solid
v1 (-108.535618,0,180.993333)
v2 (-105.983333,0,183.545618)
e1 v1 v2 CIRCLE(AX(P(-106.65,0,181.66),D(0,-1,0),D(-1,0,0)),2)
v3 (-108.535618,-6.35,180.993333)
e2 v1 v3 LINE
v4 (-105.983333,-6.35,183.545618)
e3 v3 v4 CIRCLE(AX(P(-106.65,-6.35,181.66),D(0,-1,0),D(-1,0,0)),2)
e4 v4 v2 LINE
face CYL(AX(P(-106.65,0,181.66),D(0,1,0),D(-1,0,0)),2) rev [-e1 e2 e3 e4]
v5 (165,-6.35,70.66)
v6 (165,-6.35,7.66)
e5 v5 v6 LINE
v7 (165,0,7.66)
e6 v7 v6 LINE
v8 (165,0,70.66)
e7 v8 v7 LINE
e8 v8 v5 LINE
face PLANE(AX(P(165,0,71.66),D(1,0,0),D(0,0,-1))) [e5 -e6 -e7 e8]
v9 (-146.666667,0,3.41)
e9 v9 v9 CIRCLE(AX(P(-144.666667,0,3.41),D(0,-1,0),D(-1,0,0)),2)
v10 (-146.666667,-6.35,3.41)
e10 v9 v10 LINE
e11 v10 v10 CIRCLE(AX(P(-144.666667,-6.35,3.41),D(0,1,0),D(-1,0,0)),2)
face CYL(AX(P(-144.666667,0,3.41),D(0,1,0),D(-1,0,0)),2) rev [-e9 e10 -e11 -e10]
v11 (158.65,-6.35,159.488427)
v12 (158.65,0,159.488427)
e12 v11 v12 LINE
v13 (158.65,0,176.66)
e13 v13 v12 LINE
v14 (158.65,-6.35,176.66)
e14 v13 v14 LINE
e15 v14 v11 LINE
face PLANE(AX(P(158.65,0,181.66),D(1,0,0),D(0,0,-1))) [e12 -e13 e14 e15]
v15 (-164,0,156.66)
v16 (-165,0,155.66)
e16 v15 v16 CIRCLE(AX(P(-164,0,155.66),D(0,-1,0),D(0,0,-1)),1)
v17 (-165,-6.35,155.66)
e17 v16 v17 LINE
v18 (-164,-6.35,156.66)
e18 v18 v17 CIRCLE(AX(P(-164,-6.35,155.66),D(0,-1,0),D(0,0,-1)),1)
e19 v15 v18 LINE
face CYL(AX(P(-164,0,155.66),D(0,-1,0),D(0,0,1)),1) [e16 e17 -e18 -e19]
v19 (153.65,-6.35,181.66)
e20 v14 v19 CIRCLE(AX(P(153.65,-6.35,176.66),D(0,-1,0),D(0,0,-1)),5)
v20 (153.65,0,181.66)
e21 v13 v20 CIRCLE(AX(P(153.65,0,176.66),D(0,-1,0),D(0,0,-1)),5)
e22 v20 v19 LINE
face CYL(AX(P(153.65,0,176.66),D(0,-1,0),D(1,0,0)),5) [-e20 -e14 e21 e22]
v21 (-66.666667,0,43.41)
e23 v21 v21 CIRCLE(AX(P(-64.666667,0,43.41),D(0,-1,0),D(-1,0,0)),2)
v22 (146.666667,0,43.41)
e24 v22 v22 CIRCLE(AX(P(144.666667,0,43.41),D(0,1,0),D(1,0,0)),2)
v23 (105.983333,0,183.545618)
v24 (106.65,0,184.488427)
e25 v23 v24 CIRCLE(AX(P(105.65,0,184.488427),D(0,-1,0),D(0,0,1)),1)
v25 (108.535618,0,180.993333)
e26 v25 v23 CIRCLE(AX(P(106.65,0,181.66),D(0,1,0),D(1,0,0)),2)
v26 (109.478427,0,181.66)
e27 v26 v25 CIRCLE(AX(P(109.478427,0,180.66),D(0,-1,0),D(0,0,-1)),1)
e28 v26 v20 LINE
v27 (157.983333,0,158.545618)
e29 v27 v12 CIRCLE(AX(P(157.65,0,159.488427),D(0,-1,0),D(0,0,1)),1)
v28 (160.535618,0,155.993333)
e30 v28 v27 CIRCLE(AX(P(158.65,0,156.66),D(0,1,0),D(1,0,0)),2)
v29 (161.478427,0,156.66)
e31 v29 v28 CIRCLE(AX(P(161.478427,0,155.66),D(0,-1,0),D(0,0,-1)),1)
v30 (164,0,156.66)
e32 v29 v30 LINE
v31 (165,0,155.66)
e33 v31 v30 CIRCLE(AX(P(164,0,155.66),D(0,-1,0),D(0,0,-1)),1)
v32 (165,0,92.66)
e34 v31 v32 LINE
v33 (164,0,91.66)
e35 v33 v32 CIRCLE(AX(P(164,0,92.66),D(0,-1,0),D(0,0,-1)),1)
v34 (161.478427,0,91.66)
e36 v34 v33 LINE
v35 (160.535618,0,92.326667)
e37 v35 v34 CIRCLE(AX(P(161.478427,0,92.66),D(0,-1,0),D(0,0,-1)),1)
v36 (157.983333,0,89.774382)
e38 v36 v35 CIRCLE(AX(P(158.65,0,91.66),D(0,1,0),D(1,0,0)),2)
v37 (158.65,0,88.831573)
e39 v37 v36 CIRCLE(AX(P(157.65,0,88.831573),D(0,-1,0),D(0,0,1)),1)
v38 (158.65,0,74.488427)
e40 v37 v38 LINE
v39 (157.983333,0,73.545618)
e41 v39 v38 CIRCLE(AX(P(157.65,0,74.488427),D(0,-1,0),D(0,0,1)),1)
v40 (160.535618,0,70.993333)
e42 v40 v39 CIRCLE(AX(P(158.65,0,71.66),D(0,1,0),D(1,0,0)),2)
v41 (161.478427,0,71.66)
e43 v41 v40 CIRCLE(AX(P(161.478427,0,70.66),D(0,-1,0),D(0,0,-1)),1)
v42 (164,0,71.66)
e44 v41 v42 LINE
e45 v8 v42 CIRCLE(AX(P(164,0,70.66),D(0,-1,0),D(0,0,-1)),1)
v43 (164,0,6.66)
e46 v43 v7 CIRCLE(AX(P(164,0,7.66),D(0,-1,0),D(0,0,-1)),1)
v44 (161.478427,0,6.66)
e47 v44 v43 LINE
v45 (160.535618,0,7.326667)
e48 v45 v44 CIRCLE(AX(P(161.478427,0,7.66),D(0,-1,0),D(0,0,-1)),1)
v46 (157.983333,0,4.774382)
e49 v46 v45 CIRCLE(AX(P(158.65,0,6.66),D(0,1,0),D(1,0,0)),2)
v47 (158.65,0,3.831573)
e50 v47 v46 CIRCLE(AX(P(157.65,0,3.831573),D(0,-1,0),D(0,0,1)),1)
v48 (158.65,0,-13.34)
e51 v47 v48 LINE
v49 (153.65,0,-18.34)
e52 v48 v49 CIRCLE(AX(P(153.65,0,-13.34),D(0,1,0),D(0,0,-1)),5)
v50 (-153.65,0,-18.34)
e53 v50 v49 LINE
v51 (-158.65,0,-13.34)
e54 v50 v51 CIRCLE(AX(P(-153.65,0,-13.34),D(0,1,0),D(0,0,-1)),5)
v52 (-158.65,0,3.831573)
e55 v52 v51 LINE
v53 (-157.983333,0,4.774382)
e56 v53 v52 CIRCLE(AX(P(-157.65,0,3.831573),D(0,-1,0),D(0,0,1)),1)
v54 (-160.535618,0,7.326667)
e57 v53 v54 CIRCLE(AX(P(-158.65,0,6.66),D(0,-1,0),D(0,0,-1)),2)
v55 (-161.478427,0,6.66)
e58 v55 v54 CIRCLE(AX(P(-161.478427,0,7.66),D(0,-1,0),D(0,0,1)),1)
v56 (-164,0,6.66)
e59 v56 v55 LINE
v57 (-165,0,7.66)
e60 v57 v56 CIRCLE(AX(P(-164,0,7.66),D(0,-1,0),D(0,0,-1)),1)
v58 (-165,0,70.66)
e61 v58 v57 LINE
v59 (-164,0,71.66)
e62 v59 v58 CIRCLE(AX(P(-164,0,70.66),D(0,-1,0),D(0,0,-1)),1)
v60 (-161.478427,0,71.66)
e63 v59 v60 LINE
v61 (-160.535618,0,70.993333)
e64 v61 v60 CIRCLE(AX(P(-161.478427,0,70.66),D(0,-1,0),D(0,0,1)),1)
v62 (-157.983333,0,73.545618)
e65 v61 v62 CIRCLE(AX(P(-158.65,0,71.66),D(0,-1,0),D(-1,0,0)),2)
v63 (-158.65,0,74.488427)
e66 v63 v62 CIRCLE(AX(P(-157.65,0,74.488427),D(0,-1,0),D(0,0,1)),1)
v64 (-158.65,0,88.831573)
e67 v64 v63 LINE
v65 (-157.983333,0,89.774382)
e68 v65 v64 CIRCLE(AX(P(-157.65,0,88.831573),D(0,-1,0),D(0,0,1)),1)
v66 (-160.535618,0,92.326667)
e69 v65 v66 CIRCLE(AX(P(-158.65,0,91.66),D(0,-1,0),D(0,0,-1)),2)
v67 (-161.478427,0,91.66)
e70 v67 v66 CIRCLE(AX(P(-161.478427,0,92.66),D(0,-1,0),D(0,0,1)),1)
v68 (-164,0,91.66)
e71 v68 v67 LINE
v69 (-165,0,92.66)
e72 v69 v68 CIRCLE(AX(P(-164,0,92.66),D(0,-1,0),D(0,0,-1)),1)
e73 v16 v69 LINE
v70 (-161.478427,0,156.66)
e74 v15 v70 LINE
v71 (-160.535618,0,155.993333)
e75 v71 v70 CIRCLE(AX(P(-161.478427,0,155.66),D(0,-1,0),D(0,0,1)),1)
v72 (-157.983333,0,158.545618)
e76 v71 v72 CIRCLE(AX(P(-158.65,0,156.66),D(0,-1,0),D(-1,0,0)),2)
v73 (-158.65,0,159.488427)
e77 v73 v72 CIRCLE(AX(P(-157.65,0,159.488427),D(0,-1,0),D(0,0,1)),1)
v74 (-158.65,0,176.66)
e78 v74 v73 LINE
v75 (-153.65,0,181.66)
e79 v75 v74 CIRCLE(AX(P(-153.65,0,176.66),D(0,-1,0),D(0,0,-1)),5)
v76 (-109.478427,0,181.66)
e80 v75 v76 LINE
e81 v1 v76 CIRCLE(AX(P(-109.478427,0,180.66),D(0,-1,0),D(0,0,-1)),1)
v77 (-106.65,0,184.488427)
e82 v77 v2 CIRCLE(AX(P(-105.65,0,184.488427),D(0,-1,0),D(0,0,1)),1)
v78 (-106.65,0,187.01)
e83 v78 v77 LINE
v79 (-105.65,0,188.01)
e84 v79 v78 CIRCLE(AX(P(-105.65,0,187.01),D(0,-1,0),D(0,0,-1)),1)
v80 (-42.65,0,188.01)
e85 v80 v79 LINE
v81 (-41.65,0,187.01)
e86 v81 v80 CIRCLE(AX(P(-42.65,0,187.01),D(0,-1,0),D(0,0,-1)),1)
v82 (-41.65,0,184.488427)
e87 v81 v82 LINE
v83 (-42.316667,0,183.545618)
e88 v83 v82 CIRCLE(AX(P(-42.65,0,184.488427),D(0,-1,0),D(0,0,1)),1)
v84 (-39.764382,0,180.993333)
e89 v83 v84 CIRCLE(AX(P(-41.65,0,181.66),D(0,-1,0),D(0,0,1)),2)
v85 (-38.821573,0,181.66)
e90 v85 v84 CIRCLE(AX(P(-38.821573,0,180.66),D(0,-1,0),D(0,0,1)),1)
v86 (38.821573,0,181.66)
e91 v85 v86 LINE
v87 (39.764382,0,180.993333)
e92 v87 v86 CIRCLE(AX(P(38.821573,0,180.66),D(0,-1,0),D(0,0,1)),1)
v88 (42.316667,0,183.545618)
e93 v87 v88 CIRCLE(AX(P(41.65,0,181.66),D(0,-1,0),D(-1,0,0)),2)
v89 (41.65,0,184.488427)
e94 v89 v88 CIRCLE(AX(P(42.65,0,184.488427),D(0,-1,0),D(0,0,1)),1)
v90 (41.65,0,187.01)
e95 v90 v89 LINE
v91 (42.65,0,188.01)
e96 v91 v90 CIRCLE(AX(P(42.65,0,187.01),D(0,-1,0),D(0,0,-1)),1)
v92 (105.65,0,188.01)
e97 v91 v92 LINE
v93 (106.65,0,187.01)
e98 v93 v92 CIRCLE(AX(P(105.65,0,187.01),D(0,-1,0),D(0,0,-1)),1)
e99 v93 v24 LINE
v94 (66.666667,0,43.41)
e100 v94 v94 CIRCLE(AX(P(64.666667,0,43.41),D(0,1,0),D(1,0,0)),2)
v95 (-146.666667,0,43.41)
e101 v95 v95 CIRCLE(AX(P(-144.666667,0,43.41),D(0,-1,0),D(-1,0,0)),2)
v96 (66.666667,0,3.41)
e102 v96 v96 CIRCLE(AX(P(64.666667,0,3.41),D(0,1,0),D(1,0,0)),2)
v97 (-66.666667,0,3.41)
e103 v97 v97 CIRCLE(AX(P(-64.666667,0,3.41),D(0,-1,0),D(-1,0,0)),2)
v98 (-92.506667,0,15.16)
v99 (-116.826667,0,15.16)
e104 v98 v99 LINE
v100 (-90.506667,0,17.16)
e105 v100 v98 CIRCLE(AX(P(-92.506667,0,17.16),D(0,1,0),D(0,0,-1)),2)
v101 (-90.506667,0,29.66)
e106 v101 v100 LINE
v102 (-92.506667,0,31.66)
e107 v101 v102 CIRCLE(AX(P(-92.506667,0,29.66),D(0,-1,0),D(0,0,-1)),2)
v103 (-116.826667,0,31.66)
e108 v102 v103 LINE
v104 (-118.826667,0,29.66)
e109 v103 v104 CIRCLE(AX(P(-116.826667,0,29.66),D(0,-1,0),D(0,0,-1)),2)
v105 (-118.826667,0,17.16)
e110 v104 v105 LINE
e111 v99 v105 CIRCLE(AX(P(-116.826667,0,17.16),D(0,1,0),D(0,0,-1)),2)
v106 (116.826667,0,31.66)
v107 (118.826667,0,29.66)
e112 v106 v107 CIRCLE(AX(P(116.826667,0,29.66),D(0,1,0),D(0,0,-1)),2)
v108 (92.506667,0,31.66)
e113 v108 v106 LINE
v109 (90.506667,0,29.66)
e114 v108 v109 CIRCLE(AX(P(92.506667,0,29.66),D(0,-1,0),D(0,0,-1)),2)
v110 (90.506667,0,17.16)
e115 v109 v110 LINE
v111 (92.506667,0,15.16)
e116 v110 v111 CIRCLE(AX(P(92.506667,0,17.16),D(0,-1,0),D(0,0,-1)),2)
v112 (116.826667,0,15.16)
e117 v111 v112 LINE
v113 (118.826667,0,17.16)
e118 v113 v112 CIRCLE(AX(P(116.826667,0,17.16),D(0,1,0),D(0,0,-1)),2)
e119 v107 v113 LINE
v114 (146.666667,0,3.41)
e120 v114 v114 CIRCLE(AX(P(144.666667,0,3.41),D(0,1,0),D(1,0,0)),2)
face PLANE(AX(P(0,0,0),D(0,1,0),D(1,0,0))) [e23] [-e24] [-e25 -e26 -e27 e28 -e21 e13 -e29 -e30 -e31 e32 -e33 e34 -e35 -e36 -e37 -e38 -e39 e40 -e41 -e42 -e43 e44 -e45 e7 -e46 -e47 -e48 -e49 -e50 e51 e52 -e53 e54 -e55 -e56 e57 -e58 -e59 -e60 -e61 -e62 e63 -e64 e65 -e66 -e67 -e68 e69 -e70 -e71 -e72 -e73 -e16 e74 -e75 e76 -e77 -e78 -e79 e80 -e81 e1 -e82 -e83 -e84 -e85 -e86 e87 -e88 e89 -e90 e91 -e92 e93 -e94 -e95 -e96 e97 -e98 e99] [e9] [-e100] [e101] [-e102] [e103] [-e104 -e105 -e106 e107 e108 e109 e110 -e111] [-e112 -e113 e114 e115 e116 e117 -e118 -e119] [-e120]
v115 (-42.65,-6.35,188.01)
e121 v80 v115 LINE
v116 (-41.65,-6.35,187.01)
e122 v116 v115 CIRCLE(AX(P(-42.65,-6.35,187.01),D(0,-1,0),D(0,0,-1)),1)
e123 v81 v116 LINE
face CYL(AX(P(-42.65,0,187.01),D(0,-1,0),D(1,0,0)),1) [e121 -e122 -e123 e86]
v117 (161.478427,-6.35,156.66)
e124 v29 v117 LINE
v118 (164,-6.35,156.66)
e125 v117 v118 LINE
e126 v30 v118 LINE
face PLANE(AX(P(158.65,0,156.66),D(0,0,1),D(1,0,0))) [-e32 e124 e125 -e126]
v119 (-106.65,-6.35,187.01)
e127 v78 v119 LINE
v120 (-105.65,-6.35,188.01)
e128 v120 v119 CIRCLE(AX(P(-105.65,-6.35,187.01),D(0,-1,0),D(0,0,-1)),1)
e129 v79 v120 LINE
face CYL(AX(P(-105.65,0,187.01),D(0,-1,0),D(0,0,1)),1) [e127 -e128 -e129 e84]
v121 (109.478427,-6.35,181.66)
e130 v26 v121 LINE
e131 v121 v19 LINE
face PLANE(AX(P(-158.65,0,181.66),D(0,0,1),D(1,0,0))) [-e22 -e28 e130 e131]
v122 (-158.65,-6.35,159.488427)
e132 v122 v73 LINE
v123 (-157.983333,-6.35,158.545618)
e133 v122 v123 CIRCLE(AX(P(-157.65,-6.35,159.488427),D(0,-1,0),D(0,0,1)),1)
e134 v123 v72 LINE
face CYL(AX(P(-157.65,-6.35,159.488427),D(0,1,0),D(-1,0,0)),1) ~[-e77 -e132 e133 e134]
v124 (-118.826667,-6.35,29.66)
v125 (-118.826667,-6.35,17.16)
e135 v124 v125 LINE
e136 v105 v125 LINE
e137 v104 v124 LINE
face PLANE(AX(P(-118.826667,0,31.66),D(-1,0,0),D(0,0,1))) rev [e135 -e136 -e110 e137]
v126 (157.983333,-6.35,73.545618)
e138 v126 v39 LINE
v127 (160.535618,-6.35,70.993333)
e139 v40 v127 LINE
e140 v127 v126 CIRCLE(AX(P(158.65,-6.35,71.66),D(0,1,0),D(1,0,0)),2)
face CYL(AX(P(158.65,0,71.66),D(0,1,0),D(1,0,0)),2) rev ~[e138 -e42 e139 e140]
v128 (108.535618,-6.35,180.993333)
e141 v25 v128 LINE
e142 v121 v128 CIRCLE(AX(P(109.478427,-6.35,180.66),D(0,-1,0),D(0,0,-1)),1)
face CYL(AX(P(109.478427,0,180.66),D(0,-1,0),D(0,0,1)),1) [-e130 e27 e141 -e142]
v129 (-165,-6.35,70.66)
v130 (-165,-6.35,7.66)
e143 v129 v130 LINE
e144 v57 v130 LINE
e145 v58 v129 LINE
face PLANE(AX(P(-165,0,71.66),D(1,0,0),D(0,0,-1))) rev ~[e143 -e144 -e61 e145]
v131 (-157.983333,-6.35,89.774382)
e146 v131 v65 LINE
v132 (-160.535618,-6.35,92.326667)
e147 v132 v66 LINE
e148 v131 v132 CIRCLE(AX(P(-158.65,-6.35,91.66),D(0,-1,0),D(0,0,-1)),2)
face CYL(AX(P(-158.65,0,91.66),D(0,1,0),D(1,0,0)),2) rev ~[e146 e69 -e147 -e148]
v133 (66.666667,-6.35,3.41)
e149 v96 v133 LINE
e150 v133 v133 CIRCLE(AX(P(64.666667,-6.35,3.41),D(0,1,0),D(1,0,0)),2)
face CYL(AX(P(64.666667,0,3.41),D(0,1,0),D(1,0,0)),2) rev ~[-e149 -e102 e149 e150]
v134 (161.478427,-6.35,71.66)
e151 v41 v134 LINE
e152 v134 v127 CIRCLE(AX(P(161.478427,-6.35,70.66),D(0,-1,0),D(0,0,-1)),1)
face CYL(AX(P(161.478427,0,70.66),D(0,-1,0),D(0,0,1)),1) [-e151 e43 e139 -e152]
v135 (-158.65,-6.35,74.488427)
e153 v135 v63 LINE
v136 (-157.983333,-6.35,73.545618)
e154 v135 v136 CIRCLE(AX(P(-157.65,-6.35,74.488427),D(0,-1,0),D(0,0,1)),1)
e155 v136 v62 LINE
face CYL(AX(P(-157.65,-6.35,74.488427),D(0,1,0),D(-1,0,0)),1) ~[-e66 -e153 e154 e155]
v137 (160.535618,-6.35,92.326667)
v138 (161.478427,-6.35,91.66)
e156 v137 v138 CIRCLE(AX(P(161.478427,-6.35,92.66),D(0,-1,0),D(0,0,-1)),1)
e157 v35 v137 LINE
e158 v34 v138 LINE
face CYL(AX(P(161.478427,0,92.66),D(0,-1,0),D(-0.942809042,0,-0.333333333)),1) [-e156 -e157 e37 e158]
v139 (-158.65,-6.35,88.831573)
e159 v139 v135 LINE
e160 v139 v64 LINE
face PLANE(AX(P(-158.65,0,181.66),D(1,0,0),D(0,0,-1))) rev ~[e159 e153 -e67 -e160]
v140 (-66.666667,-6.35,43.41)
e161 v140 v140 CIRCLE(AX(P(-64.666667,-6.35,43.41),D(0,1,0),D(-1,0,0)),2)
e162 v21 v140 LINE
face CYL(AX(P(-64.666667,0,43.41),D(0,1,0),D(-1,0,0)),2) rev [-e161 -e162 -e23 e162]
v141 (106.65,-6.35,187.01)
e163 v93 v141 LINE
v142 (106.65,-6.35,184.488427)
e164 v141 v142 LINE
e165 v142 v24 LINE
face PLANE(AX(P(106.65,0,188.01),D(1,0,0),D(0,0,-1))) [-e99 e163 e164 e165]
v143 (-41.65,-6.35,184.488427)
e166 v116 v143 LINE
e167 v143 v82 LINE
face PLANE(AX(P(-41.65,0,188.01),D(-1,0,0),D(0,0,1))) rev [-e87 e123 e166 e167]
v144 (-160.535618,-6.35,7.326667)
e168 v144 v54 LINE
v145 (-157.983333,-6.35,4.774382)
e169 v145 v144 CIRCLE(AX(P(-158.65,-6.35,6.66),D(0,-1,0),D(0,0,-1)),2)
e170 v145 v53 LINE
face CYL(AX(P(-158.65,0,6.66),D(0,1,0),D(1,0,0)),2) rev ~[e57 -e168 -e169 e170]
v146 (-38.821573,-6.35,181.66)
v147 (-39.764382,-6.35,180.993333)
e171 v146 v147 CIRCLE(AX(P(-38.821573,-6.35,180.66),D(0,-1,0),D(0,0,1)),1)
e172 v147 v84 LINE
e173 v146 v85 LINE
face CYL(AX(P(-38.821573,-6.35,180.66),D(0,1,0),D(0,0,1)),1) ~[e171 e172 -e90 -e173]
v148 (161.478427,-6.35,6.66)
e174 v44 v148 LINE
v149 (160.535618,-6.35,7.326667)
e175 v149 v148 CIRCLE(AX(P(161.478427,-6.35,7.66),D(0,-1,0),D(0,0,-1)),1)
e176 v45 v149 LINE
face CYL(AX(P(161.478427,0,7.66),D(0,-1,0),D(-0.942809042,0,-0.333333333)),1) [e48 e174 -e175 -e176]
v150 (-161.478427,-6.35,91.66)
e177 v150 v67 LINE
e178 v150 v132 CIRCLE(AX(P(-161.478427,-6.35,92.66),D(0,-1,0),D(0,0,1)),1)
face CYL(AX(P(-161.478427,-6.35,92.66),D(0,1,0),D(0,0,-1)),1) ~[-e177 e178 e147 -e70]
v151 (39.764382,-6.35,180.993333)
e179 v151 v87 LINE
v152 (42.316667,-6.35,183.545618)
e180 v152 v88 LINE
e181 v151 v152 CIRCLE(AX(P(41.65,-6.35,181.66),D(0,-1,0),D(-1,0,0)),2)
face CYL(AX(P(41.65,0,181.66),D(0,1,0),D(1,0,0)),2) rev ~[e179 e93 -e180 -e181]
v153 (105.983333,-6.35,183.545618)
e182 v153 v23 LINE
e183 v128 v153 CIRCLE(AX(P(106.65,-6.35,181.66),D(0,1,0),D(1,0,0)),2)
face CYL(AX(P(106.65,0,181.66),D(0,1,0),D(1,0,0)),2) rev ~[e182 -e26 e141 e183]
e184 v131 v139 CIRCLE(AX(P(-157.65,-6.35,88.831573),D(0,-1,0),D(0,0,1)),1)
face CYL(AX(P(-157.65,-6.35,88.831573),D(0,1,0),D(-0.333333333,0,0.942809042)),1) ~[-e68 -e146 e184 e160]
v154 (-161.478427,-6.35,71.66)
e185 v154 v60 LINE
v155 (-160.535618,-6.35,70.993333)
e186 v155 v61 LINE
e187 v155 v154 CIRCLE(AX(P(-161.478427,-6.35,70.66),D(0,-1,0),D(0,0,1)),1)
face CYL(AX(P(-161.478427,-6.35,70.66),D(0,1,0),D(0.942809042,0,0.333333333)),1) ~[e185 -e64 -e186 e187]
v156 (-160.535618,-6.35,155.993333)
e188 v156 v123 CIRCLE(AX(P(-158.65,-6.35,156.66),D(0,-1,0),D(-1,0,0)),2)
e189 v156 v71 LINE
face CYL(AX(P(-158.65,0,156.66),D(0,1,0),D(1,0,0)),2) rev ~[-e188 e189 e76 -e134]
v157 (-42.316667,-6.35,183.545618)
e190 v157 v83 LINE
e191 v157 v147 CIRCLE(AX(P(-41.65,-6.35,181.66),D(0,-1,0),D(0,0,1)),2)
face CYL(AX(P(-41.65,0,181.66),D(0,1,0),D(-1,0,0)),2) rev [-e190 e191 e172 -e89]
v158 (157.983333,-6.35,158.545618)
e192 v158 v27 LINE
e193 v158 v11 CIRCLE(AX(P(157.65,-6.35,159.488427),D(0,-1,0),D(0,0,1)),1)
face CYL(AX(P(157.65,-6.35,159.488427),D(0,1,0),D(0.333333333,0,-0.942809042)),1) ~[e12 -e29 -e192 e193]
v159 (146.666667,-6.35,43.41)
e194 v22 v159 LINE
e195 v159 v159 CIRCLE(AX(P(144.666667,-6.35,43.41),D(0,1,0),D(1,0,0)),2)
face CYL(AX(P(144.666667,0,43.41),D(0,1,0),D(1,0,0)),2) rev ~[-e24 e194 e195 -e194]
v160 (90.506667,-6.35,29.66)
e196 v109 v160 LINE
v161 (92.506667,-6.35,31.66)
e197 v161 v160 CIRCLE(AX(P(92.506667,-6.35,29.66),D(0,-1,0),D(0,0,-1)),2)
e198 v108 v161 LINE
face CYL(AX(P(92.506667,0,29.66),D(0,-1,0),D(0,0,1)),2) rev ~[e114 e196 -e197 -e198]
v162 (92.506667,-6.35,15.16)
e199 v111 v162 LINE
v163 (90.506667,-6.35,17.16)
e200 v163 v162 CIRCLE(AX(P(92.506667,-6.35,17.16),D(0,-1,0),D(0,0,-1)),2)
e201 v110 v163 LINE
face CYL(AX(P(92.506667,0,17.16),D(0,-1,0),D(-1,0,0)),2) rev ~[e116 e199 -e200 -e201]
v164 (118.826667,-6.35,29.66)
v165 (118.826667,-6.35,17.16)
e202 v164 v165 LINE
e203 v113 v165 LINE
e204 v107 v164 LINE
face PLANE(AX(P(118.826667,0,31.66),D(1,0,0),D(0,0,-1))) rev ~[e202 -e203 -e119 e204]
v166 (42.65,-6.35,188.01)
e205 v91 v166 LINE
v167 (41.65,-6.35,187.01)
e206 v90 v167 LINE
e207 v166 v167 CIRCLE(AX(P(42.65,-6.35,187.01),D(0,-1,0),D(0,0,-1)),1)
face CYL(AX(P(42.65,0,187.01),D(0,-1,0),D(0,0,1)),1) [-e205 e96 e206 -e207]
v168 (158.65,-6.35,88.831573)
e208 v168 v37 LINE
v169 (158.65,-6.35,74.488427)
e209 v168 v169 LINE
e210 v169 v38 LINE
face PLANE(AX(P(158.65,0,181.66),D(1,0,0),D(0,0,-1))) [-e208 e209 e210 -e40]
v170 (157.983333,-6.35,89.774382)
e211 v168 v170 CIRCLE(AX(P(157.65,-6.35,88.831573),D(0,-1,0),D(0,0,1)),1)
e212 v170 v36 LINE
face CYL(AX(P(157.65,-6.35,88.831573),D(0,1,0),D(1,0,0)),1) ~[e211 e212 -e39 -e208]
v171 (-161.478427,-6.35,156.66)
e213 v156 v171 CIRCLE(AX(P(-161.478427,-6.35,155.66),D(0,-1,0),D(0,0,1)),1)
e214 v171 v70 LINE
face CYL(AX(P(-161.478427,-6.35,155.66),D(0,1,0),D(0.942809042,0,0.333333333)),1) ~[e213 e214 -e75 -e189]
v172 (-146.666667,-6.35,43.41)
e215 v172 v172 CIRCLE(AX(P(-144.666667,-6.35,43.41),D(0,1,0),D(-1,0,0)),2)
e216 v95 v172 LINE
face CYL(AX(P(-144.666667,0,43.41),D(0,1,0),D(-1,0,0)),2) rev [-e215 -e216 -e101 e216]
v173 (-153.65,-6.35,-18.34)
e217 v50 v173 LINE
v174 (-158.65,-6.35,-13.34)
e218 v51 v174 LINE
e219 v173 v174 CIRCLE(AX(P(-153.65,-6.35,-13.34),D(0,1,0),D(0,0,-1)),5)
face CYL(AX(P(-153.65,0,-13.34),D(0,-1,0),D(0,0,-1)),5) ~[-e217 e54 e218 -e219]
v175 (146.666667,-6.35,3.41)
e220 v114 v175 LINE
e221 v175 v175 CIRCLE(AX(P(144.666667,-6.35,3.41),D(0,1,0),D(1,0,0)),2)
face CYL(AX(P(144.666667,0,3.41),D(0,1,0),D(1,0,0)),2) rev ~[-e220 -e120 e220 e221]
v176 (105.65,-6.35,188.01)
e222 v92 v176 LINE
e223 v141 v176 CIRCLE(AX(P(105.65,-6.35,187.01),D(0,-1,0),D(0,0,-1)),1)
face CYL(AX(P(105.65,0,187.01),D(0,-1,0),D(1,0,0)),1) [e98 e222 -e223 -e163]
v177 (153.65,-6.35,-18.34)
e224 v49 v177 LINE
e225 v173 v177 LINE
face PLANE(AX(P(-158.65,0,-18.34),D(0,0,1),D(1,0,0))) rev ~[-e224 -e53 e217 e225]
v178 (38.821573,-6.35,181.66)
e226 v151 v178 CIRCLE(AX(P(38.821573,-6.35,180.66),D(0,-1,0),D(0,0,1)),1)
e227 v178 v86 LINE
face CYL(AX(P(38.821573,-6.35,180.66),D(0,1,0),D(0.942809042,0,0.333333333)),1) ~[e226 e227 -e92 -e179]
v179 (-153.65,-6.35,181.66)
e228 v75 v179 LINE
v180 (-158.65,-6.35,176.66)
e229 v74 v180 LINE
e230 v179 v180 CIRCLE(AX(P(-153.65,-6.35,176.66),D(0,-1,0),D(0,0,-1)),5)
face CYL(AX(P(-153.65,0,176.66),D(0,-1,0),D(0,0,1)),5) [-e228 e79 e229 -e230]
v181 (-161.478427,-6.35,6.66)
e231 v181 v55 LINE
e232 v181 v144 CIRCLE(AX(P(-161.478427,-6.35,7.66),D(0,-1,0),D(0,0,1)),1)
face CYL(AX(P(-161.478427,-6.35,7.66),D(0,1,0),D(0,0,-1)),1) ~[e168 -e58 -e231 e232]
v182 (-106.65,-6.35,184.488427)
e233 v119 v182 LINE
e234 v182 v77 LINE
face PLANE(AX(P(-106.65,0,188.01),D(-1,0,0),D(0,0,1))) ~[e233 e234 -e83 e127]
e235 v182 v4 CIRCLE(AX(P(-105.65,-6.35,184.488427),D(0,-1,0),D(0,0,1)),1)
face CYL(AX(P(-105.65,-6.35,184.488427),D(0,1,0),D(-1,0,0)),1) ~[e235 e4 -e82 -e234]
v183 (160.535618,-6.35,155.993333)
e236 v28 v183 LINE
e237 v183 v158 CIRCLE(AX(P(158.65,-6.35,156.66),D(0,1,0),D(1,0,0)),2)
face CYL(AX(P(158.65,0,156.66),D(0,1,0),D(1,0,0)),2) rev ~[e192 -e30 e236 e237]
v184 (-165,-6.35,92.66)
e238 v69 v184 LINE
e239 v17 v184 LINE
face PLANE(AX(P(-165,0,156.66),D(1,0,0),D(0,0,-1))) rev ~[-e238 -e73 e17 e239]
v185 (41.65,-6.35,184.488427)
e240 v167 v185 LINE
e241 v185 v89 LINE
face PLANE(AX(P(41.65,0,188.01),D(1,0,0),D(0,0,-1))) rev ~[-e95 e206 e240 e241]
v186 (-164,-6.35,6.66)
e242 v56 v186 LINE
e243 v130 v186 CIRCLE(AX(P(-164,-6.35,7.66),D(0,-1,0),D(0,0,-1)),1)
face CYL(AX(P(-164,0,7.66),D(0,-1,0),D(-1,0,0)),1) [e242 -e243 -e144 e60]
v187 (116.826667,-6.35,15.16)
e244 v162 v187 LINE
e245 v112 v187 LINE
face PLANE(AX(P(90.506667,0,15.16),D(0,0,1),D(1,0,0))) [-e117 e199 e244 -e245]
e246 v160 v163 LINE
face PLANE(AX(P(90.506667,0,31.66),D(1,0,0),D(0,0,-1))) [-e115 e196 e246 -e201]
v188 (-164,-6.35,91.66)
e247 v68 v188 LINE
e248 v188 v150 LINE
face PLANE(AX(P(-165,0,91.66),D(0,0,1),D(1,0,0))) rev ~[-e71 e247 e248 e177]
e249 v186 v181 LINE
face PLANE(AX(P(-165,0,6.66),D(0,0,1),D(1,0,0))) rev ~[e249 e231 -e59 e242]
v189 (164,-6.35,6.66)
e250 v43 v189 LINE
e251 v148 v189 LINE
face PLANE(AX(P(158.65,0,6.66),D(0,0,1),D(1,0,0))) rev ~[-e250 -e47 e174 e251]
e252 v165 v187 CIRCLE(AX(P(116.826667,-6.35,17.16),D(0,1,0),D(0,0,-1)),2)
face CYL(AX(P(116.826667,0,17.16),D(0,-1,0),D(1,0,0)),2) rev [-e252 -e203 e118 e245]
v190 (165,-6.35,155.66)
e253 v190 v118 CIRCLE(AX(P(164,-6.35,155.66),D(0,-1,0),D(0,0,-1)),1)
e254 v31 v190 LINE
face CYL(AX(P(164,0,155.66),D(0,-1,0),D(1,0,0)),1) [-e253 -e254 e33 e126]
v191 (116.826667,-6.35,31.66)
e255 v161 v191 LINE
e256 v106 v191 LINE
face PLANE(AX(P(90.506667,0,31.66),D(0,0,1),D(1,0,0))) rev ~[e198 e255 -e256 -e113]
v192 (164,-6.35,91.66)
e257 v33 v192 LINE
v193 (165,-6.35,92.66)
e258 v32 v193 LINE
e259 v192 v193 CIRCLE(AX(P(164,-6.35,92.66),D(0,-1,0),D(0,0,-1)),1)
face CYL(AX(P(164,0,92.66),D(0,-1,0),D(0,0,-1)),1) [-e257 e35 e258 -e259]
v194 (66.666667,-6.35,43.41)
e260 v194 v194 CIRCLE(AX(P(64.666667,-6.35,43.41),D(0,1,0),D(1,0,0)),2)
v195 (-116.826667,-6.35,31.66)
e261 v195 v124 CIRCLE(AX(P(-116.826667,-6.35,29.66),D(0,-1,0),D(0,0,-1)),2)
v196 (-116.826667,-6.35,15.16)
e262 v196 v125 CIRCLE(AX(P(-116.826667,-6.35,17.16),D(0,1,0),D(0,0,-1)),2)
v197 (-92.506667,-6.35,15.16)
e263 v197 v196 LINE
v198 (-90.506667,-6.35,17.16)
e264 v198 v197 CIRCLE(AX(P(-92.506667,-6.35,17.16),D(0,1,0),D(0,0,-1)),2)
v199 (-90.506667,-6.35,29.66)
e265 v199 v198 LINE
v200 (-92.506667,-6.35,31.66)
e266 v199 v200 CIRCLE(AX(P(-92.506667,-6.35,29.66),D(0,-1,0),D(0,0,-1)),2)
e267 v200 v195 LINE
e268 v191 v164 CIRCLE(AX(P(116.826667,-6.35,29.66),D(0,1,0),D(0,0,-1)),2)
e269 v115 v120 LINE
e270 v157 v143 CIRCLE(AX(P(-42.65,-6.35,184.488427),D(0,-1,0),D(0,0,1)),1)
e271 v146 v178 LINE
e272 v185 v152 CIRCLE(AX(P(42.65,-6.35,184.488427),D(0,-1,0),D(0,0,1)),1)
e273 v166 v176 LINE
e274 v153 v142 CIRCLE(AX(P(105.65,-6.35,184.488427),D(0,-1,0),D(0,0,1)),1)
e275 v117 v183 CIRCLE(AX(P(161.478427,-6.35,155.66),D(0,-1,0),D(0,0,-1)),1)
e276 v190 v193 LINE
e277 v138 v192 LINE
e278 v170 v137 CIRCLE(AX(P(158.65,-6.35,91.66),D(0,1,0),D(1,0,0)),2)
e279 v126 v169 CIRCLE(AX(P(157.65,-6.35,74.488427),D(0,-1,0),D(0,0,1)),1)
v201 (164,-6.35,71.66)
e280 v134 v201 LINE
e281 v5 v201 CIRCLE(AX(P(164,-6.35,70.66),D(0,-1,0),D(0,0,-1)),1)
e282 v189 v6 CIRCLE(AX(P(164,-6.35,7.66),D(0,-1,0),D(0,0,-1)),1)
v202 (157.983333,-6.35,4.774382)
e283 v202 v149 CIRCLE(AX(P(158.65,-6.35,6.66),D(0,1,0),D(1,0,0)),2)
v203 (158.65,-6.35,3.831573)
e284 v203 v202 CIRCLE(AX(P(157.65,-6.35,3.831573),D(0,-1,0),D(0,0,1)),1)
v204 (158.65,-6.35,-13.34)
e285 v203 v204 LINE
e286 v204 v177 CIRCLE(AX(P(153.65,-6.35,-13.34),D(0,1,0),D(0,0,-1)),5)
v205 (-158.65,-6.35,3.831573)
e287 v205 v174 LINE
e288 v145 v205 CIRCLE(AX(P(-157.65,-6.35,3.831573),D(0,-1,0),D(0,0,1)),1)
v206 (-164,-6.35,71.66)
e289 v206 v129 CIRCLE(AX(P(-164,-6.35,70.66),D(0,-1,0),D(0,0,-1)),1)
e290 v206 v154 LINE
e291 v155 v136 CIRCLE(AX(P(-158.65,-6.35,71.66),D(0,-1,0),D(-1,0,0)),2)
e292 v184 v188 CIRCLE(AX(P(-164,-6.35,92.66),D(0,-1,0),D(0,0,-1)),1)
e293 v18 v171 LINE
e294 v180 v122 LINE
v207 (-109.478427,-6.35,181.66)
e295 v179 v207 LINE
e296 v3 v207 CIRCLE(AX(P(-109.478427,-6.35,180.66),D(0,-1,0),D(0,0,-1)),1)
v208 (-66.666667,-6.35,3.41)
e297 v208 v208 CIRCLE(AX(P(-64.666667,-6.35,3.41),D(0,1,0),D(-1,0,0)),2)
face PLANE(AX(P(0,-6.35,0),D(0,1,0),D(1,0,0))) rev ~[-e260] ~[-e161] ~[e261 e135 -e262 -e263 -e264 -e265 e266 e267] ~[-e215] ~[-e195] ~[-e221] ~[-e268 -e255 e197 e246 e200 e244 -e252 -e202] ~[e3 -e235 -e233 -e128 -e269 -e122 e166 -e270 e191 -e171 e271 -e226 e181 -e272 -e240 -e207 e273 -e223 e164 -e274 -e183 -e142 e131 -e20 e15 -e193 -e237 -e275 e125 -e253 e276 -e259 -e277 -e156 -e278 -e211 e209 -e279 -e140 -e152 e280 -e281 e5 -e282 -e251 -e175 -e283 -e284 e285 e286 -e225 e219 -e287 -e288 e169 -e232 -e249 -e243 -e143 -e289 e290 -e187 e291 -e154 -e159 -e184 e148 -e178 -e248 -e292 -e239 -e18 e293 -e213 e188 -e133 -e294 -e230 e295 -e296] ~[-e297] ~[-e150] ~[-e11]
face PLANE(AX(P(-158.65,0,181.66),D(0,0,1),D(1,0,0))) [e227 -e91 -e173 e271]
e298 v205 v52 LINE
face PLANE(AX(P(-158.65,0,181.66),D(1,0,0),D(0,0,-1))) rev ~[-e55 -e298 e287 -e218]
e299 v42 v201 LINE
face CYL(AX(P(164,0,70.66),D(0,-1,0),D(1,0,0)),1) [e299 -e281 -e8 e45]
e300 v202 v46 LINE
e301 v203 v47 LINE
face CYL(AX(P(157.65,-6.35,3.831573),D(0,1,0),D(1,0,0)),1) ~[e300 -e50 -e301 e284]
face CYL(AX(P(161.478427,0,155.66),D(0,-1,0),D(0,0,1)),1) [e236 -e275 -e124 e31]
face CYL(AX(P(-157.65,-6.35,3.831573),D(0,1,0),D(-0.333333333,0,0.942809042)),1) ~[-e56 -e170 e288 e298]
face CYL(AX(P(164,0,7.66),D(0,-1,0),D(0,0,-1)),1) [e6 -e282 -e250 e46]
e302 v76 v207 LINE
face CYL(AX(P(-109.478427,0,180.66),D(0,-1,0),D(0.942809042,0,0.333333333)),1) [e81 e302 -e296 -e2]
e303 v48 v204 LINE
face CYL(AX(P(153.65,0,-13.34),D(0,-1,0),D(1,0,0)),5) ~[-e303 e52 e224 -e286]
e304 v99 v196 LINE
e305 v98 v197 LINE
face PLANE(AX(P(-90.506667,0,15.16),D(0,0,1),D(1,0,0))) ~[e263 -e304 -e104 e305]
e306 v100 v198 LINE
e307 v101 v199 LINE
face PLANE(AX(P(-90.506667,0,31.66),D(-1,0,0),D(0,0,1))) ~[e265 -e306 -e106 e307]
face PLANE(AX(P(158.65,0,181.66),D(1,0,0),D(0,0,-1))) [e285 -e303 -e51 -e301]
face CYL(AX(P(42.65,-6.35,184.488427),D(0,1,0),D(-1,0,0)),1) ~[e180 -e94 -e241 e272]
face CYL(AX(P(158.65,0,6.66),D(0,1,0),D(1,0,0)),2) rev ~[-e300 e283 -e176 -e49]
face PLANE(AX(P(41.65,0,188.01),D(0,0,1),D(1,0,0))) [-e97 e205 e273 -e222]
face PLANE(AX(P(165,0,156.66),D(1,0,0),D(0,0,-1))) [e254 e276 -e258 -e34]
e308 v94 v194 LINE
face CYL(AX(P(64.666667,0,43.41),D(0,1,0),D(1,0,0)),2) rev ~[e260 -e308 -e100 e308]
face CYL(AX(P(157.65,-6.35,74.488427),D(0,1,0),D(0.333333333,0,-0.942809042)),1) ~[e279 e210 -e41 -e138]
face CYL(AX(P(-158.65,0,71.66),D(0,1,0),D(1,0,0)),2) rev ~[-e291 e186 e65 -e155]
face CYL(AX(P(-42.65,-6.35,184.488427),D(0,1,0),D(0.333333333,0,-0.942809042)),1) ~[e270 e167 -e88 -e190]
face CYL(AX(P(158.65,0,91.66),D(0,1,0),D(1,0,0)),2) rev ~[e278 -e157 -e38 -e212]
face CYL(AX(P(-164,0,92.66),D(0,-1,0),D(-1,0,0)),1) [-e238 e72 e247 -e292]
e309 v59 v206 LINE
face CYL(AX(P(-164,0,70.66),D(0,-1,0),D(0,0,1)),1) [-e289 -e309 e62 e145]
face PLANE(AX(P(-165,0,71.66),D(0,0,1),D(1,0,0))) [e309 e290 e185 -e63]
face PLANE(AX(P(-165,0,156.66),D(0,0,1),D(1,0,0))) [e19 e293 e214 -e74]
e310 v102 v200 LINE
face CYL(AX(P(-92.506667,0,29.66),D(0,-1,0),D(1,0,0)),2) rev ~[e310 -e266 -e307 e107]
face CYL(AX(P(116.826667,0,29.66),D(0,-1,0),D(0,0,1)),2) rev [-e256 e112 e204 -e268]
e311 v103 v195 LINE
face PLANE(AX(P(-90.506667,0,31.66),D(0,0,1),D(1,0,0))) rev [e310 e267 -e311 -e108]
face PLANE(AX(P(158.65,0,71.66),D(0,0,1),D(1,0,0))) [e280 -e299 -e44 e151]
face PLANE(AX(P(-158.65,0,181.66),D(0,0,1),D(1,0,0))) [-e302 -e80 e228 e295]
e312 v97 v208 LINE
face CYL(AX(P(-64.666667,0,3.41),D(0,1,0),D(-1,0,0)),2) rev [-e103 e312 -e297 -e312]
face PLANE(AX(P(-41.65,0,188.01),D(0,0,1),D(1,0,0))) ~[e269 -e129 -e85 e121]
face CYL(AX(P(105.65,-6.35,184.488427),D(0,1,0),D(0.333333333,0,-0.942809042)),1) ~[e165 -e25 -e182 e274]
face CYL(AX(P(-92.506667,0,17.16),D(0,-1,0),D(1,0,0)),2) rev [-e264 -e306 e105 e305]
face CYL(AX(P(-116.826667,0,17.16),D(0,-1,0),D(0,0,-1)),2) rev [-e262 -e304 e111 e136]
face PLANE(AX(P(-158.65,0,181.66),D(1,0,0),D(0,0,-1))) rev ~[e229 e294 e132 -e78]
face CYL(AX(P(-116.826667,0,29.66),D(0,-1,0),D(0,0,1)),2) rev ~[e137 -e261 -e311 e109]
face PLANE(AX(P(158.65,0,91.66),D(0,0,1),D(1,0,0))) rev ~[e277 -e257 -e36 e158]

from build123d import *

# Parameters (mm, degrees)
SKETCH1_W              = 317.3
SKETCH1_H              = 363.32
BOSS_EXTRUDE1_DEPTH    = 6.35
SKETCH11_W             = 28.32
SKETCH11_H             = 16.5
CUT_EXTRUDE8_DEPTH     = 7.35
SKETCH12_R             = 2
CUT_EXTRUDE9_DEPTH     = 7.35
FILLET4_R              = 2
SKETCH14_W             = 317.3
SKETCH14_H             = 163.32
CUT_EXTRUDE10_DEPTH    = 6.35
SKETCH15_W             = 6.35
SKETCH15_H             = 65
BOSS_EXTRUDE2_DEPTH    = 6.35
SKETCH16_R             = 2
CUT_EXTRUDE11_DEPTH    = 6.35
FILLET5_R              = 1
LPATTERN1_COUNT        = 2
LPATTERN1_PITCH        = 85
FILLET5_OF_LPATTERN1_R = 1
FILLET6_R              = 5
SKETCH18_W             = 6.35
SKETCH18_H             = 65
BOSS_EXTRUDE3_DEPTH    = 6.35
SKETCH19_R             = 2
CUT_EXTRUDE12_DEPTH    = 6.35
FILLET7_R              = 1
LPATTERN2_COUNT        = 2
LPATTERN2_PITCH        = 85
FILLET7_OF_LPATTERN2_R = 1
SKETCH20_W             = 65
SKETCH20_H             = 6.35
BOSS_EXTRUDE4_DEPTH    = 6.35
SKETCH21_R             = 2
CUT_EXTRUDE13_DEPTH    = 6.35
FILLET8_R              = 1
FILLET8_OF_MIRROR10_R  = 1


with BuildPart() as part:
    # Sketch1 → Boss-Extrude1 (new body)
    with BuildSketch(Plane(origin=(0, 0, 0), x_dir=(1, 0, 0), z_dir=(0, 1, 0))):
        Rectangle(SKETCH1_W, SKETCH1_H)
    extrude(amount=-BOSS_EXTRUDE1_DEPTH)

    # Sketch11 → Cut-Extrude8 (cut, through all)
    with BuildSketch(Plane(origin=(0, 0, 0), x_dir=(1, 0, 0), z_dir=(0, 1, 0))):
        with Locations((104.666666667, -23.41)):
            Rectangle(SKETCH11_W, SKETCH11_H)
    cut_extrude8 = extrude(amount=-CUT_EXTRUDE8_DEPTH, mode=Mode.SUBTRACT)

    # Sketch12 → Cut-Extrude9 (cut, through all)
    with BuildSketch(Plane(origin=(0, 0, 0), x_dir=(1, 0, 0), z_dir=(0, 1, 0))):
        with Locations((64.666666667, -3.41)):
            Circle(SKETCH12_R)
        with Locations((144.666666667, -3.41)):
            Circle(SKETCH12_R)
        with Locations((144.666666667, -43.41)):
            Circle(SKETCH12_R)
        with Locations((64.666666667, -43.41)):
            Circle(SKETCH12_R)
    cut_extrude9 = extrude(amount=-CUT_EXTRUDE9_DEPTH, mode=Mode.SUBTRACT)

    # Mirror3: Cut-Extrude8, Cut-Extrude9 across plane
    add(cut_extrude8.mirror(Plane(origin=(0, 0, 0), x_dir=(0, 0, 1), z_dir=(1, 0, 0))), mode=Mode.SUBTRACT)
    add(cut_extrude9.mirror(Plane(origin=(0, 0, 0), x_dir=(0, 0, 1), z_dir=(1, 0, 0))), mode=Mode.SUBTRACT)

    # Fillet4
    fillet4_edges = [part.edges().sort_by_distance(p)[0] for p in [
        (90.506666667, -3.175, 31.66),
        (90.506666667, -3.175, 15.16),
        (118.826666667, -3.175, 15.16),
        (118.826666667, -3.175, 31.66),
        (-90.506666667, -3.175, 15.16),
        (-90.506666667, -3.175, 31.66),
        (-118.826666667, -3.175, 31.66),
        (-118.826666667, -3.175, 15.16),
    ]]
    fillet(fillet4_edges, radius=FILLET4_R)

    # Sketch14 → Cut-Extrude10 (cut)
    with BuildSketch(Plane(origin=(0, 0, 0), x_dir=(1, 0, 0), z_dir=(0, 1, 0))):
        with Locations((0, 100)):
            Rectangle(SKETCH14_W, SKETCH14_H)
    extrude(amount=-CUT_EXTRUDE10_DEPTH, mode=Mode.SUBTRACT)

    # Sketch15 → Boss-Extrude2 (add)
    with BuildSketch(Plane(origin=(0, 0, 0), x_dir=(1, 0, 0), z_dir=(0, 1, 0))):
        with Locations((161.825, -39.16)):
            Rectangle(SKETCH15_W, SKETCH15_H)
    boss_extrude2 = extrude(amount=-BOSS_EXTRUDE2_DEPTH)

    # Sketch16 → Cut-Extrude11 (cut)
    with BuildSketch(Plane(origin=(0, 0, 0), x_dir=(1, 0, 0), z_dir=(0, 1, 0))):
        with Locations((158.65, -71.66)):
            Circle(SKETCH16_R)
        with Locations((158.65, -6.66)):
            Circle(SKETCH16_R)
    cut_extrude11 = extrude(amount=-CUT_EXTRUDE11_DEPTH, mode=Mode.SUBTRACT)

    # Fillet5
    fillet5_edges = [part.edges().sort_by_distance(p)[0] for p in [
        (165, -3.175, 6.66),
        (165, -3.175, 71.66),
        (160.65, -3.175, 71.66),
        (160.65, -3.175, 6.66),
        (158.65, -3.175, 73.66),
        (158.65, -3.175, 4.66),
    ]]
    fillet(fillet5_edges, radius=FILLET5_R)

    # LPattern1: Boss-Extrude2, Cut-Extrude11 ×2
    with Locations(*[(0, 0, i * LPATTERN1_PITCH) for i in range(1, LPATTERN1_COUNT)]):
        add(boss_extrude2)
        add(cut_extrude11, mode=Mode.SUBTRACT)

    # Fillet5 of LPattern1
    fillet5_of_lpattern1_edges = [part.edges().sort_by_distance(p)[0] for p in [
        (165, -3.175, 91.66),
        (165, -3.175, 156.66),
        (160.65, -3.175, 156.66),
        (160.65, -3.175, 91.66),
        (158.65, -3.175, 158.66),
        (158.65, -3.175, 89.66),
    ]]
    fillet(fillet5_of_lpattern1_edges, radius=FILLET5_OF_LPATTERN1_R)

    # Fillet6
    fillet6_edges = [part.edges().sort_by_distance(p)[0] for p in [
        (158.65, -3.175, -18.34),
        (-158.65, -3.175, -18.34),
        (158.65, -3.175, 181.66),
        (-158.65, -3.175, 181.66),
    ]]
    fillet(fillet6_edges, radius=FILLET6_R)

    # Sketch18 → Boss-Extrude3 (add)
    with BuildSketch(Plane(origin=(0, 0, 0), x_dir=(1, 0, 0), z_dir=(0, 1, 0))):
        with Locations((-161.825, -39.16)):
            Rectangle(SKETCH18_W, SKETCH18_H)
    boss_extrude3 = extrude(amount=-BOSS_EXTRUDE3_DEPTH)

    # Sketch19 → Cut-Extrude12 (cut)
    with BuildSketch(Plane(origin=(0, 0, 0), x_dir=(1, 0, 0), z_dir=(0, 1, 0))):
        with Locations((-158.65, -6.66)):
            Circle(SKETCH19_R)
        with Locations((-158.65, -71.66)):
            Circle(SKETCH19_R)
    cut_extrude12 = extrude(amount=-CUT_EXTRUDE12_DEPTH, mode=Mode.SUBTRACT)

    # Fillet7
    fillet7_edges = [part.edges().sort_by_distance(p)[0] for p in [
        (-165, -3.175, 71.66),
        (-165, -3.175, 6.66),
        (-160.65, -3.175, 6.66),
        (-160.65, -3.175, 71.66),
        (-158.65, -3.175, 4.66),
        (-158.65, -3.175, 73.66),
    ]]
    fillet(fillet7_edges, radius=FILLET7_R)

    # LPattern2: Boss-Extrude3, Cut-Extrude12 ×2
    with Locations(*[(0, 0, i * LPATTERN2_PITCH) for i in range(1, LPATTERN2_COUNT)]):
        add(boss_extrude3)
        add(cut_extrude12, mode=Mode.SUBTRACT)

    # Fillet7 of LPattern2
    fillet7_of_lpattern2_edges = [part.edges().sort_by_distance(p)[0] for p in [
        (-165, -3.175, 156.66),
        (-165, -3.175, 91.66),
        (-160.65, -3.175, 91.66),
        (-160.65, -3.175, 156.66),
        (-158.65, -3.175, 89.66),
        (-158.65, -3.175, 158.66),
    ]]
    fillet(fillet7_of_lpattern2_edges, radius=FILLET7_OF_LPATTERN2_R)

    # Sketch20 → Boss-Extrude4 (add)
    with BuildSketch(Plane(origin=(0, 0, 0), x_dir=(1, 0, 0), z_dir=(0, 1, 0))):
        with Locations((74.15, -184.835)):
            Rectangle(SKETCH20_W, SKETCH20_H)
    boss_extrude4 = extrude(amount=-BOSS_EXTRUDE4_DEPTH)

    # Sketch21 → Cut-Extrude13 (cut)
    with BuildSketch(Plane(origin=(0, 0, 0), x_dir=(1, 0, 0), z_dir=(0, 1, 0))):
        with Locations((41.65, -181.66)):
            Circle(SKETCH21_R)
        with Locations((106.65, -181.66)):
            Circle(SKETCH21_R)
    cut_extrude13 = extrude(amount=-CUT_EXTRUDE13_DEPTH, mode=Mode.SUBTRACT)

    # Fillet8
    fillet8_edges = [part.edges().sort_by_distance(p)[0] for p in [
        (41.65, -3.175, 188.01),
        (106.65, -3.175, 188.01),
        (106.65, -3.175, 183.66),
        (41.65, -3.175, 183.66),
        (39.65, -3.175, 181.66),
        (108.65, -3.175, 181.66),
    ]]
    fillet(fillet8_edges, radius=FILLET8_R)

    # Mirror10: Boss-Extrude4, Cut-Extrude13 across plane
    add(boss_extrude4.mirror(Plane(origin=(0, 0, 0), x_dir=(0, 0, 1), z_dir=(1, 0, 0))))
    add(cut_extrude13.mirror(Plane(origin=(0, 0, 0), x_dir=(0, 0, 1), z_dir=(1, 0, 0))), mode=Mode.SUBTRACT)

    # Fillet8 of Mirror10
    fillet8_of_mirror10_edges = [part.edges().sort_by_distance(p)[0] for p in [
        (-41.65, -3.175, 188.01),
        (-106.65, -3.175, 188.01),
        (-106.65, -3.175, 183.66),
        (-41.65, -3.175, 183.66),
        (-39.65, -3.175, 181.66),
        (-108.65, -3.175, 181.66),
    ]]
    fillet(fillet8_of_mirror10_edges, radius=FILLET8_OF_MIRROR10_R)


solid = part.part
